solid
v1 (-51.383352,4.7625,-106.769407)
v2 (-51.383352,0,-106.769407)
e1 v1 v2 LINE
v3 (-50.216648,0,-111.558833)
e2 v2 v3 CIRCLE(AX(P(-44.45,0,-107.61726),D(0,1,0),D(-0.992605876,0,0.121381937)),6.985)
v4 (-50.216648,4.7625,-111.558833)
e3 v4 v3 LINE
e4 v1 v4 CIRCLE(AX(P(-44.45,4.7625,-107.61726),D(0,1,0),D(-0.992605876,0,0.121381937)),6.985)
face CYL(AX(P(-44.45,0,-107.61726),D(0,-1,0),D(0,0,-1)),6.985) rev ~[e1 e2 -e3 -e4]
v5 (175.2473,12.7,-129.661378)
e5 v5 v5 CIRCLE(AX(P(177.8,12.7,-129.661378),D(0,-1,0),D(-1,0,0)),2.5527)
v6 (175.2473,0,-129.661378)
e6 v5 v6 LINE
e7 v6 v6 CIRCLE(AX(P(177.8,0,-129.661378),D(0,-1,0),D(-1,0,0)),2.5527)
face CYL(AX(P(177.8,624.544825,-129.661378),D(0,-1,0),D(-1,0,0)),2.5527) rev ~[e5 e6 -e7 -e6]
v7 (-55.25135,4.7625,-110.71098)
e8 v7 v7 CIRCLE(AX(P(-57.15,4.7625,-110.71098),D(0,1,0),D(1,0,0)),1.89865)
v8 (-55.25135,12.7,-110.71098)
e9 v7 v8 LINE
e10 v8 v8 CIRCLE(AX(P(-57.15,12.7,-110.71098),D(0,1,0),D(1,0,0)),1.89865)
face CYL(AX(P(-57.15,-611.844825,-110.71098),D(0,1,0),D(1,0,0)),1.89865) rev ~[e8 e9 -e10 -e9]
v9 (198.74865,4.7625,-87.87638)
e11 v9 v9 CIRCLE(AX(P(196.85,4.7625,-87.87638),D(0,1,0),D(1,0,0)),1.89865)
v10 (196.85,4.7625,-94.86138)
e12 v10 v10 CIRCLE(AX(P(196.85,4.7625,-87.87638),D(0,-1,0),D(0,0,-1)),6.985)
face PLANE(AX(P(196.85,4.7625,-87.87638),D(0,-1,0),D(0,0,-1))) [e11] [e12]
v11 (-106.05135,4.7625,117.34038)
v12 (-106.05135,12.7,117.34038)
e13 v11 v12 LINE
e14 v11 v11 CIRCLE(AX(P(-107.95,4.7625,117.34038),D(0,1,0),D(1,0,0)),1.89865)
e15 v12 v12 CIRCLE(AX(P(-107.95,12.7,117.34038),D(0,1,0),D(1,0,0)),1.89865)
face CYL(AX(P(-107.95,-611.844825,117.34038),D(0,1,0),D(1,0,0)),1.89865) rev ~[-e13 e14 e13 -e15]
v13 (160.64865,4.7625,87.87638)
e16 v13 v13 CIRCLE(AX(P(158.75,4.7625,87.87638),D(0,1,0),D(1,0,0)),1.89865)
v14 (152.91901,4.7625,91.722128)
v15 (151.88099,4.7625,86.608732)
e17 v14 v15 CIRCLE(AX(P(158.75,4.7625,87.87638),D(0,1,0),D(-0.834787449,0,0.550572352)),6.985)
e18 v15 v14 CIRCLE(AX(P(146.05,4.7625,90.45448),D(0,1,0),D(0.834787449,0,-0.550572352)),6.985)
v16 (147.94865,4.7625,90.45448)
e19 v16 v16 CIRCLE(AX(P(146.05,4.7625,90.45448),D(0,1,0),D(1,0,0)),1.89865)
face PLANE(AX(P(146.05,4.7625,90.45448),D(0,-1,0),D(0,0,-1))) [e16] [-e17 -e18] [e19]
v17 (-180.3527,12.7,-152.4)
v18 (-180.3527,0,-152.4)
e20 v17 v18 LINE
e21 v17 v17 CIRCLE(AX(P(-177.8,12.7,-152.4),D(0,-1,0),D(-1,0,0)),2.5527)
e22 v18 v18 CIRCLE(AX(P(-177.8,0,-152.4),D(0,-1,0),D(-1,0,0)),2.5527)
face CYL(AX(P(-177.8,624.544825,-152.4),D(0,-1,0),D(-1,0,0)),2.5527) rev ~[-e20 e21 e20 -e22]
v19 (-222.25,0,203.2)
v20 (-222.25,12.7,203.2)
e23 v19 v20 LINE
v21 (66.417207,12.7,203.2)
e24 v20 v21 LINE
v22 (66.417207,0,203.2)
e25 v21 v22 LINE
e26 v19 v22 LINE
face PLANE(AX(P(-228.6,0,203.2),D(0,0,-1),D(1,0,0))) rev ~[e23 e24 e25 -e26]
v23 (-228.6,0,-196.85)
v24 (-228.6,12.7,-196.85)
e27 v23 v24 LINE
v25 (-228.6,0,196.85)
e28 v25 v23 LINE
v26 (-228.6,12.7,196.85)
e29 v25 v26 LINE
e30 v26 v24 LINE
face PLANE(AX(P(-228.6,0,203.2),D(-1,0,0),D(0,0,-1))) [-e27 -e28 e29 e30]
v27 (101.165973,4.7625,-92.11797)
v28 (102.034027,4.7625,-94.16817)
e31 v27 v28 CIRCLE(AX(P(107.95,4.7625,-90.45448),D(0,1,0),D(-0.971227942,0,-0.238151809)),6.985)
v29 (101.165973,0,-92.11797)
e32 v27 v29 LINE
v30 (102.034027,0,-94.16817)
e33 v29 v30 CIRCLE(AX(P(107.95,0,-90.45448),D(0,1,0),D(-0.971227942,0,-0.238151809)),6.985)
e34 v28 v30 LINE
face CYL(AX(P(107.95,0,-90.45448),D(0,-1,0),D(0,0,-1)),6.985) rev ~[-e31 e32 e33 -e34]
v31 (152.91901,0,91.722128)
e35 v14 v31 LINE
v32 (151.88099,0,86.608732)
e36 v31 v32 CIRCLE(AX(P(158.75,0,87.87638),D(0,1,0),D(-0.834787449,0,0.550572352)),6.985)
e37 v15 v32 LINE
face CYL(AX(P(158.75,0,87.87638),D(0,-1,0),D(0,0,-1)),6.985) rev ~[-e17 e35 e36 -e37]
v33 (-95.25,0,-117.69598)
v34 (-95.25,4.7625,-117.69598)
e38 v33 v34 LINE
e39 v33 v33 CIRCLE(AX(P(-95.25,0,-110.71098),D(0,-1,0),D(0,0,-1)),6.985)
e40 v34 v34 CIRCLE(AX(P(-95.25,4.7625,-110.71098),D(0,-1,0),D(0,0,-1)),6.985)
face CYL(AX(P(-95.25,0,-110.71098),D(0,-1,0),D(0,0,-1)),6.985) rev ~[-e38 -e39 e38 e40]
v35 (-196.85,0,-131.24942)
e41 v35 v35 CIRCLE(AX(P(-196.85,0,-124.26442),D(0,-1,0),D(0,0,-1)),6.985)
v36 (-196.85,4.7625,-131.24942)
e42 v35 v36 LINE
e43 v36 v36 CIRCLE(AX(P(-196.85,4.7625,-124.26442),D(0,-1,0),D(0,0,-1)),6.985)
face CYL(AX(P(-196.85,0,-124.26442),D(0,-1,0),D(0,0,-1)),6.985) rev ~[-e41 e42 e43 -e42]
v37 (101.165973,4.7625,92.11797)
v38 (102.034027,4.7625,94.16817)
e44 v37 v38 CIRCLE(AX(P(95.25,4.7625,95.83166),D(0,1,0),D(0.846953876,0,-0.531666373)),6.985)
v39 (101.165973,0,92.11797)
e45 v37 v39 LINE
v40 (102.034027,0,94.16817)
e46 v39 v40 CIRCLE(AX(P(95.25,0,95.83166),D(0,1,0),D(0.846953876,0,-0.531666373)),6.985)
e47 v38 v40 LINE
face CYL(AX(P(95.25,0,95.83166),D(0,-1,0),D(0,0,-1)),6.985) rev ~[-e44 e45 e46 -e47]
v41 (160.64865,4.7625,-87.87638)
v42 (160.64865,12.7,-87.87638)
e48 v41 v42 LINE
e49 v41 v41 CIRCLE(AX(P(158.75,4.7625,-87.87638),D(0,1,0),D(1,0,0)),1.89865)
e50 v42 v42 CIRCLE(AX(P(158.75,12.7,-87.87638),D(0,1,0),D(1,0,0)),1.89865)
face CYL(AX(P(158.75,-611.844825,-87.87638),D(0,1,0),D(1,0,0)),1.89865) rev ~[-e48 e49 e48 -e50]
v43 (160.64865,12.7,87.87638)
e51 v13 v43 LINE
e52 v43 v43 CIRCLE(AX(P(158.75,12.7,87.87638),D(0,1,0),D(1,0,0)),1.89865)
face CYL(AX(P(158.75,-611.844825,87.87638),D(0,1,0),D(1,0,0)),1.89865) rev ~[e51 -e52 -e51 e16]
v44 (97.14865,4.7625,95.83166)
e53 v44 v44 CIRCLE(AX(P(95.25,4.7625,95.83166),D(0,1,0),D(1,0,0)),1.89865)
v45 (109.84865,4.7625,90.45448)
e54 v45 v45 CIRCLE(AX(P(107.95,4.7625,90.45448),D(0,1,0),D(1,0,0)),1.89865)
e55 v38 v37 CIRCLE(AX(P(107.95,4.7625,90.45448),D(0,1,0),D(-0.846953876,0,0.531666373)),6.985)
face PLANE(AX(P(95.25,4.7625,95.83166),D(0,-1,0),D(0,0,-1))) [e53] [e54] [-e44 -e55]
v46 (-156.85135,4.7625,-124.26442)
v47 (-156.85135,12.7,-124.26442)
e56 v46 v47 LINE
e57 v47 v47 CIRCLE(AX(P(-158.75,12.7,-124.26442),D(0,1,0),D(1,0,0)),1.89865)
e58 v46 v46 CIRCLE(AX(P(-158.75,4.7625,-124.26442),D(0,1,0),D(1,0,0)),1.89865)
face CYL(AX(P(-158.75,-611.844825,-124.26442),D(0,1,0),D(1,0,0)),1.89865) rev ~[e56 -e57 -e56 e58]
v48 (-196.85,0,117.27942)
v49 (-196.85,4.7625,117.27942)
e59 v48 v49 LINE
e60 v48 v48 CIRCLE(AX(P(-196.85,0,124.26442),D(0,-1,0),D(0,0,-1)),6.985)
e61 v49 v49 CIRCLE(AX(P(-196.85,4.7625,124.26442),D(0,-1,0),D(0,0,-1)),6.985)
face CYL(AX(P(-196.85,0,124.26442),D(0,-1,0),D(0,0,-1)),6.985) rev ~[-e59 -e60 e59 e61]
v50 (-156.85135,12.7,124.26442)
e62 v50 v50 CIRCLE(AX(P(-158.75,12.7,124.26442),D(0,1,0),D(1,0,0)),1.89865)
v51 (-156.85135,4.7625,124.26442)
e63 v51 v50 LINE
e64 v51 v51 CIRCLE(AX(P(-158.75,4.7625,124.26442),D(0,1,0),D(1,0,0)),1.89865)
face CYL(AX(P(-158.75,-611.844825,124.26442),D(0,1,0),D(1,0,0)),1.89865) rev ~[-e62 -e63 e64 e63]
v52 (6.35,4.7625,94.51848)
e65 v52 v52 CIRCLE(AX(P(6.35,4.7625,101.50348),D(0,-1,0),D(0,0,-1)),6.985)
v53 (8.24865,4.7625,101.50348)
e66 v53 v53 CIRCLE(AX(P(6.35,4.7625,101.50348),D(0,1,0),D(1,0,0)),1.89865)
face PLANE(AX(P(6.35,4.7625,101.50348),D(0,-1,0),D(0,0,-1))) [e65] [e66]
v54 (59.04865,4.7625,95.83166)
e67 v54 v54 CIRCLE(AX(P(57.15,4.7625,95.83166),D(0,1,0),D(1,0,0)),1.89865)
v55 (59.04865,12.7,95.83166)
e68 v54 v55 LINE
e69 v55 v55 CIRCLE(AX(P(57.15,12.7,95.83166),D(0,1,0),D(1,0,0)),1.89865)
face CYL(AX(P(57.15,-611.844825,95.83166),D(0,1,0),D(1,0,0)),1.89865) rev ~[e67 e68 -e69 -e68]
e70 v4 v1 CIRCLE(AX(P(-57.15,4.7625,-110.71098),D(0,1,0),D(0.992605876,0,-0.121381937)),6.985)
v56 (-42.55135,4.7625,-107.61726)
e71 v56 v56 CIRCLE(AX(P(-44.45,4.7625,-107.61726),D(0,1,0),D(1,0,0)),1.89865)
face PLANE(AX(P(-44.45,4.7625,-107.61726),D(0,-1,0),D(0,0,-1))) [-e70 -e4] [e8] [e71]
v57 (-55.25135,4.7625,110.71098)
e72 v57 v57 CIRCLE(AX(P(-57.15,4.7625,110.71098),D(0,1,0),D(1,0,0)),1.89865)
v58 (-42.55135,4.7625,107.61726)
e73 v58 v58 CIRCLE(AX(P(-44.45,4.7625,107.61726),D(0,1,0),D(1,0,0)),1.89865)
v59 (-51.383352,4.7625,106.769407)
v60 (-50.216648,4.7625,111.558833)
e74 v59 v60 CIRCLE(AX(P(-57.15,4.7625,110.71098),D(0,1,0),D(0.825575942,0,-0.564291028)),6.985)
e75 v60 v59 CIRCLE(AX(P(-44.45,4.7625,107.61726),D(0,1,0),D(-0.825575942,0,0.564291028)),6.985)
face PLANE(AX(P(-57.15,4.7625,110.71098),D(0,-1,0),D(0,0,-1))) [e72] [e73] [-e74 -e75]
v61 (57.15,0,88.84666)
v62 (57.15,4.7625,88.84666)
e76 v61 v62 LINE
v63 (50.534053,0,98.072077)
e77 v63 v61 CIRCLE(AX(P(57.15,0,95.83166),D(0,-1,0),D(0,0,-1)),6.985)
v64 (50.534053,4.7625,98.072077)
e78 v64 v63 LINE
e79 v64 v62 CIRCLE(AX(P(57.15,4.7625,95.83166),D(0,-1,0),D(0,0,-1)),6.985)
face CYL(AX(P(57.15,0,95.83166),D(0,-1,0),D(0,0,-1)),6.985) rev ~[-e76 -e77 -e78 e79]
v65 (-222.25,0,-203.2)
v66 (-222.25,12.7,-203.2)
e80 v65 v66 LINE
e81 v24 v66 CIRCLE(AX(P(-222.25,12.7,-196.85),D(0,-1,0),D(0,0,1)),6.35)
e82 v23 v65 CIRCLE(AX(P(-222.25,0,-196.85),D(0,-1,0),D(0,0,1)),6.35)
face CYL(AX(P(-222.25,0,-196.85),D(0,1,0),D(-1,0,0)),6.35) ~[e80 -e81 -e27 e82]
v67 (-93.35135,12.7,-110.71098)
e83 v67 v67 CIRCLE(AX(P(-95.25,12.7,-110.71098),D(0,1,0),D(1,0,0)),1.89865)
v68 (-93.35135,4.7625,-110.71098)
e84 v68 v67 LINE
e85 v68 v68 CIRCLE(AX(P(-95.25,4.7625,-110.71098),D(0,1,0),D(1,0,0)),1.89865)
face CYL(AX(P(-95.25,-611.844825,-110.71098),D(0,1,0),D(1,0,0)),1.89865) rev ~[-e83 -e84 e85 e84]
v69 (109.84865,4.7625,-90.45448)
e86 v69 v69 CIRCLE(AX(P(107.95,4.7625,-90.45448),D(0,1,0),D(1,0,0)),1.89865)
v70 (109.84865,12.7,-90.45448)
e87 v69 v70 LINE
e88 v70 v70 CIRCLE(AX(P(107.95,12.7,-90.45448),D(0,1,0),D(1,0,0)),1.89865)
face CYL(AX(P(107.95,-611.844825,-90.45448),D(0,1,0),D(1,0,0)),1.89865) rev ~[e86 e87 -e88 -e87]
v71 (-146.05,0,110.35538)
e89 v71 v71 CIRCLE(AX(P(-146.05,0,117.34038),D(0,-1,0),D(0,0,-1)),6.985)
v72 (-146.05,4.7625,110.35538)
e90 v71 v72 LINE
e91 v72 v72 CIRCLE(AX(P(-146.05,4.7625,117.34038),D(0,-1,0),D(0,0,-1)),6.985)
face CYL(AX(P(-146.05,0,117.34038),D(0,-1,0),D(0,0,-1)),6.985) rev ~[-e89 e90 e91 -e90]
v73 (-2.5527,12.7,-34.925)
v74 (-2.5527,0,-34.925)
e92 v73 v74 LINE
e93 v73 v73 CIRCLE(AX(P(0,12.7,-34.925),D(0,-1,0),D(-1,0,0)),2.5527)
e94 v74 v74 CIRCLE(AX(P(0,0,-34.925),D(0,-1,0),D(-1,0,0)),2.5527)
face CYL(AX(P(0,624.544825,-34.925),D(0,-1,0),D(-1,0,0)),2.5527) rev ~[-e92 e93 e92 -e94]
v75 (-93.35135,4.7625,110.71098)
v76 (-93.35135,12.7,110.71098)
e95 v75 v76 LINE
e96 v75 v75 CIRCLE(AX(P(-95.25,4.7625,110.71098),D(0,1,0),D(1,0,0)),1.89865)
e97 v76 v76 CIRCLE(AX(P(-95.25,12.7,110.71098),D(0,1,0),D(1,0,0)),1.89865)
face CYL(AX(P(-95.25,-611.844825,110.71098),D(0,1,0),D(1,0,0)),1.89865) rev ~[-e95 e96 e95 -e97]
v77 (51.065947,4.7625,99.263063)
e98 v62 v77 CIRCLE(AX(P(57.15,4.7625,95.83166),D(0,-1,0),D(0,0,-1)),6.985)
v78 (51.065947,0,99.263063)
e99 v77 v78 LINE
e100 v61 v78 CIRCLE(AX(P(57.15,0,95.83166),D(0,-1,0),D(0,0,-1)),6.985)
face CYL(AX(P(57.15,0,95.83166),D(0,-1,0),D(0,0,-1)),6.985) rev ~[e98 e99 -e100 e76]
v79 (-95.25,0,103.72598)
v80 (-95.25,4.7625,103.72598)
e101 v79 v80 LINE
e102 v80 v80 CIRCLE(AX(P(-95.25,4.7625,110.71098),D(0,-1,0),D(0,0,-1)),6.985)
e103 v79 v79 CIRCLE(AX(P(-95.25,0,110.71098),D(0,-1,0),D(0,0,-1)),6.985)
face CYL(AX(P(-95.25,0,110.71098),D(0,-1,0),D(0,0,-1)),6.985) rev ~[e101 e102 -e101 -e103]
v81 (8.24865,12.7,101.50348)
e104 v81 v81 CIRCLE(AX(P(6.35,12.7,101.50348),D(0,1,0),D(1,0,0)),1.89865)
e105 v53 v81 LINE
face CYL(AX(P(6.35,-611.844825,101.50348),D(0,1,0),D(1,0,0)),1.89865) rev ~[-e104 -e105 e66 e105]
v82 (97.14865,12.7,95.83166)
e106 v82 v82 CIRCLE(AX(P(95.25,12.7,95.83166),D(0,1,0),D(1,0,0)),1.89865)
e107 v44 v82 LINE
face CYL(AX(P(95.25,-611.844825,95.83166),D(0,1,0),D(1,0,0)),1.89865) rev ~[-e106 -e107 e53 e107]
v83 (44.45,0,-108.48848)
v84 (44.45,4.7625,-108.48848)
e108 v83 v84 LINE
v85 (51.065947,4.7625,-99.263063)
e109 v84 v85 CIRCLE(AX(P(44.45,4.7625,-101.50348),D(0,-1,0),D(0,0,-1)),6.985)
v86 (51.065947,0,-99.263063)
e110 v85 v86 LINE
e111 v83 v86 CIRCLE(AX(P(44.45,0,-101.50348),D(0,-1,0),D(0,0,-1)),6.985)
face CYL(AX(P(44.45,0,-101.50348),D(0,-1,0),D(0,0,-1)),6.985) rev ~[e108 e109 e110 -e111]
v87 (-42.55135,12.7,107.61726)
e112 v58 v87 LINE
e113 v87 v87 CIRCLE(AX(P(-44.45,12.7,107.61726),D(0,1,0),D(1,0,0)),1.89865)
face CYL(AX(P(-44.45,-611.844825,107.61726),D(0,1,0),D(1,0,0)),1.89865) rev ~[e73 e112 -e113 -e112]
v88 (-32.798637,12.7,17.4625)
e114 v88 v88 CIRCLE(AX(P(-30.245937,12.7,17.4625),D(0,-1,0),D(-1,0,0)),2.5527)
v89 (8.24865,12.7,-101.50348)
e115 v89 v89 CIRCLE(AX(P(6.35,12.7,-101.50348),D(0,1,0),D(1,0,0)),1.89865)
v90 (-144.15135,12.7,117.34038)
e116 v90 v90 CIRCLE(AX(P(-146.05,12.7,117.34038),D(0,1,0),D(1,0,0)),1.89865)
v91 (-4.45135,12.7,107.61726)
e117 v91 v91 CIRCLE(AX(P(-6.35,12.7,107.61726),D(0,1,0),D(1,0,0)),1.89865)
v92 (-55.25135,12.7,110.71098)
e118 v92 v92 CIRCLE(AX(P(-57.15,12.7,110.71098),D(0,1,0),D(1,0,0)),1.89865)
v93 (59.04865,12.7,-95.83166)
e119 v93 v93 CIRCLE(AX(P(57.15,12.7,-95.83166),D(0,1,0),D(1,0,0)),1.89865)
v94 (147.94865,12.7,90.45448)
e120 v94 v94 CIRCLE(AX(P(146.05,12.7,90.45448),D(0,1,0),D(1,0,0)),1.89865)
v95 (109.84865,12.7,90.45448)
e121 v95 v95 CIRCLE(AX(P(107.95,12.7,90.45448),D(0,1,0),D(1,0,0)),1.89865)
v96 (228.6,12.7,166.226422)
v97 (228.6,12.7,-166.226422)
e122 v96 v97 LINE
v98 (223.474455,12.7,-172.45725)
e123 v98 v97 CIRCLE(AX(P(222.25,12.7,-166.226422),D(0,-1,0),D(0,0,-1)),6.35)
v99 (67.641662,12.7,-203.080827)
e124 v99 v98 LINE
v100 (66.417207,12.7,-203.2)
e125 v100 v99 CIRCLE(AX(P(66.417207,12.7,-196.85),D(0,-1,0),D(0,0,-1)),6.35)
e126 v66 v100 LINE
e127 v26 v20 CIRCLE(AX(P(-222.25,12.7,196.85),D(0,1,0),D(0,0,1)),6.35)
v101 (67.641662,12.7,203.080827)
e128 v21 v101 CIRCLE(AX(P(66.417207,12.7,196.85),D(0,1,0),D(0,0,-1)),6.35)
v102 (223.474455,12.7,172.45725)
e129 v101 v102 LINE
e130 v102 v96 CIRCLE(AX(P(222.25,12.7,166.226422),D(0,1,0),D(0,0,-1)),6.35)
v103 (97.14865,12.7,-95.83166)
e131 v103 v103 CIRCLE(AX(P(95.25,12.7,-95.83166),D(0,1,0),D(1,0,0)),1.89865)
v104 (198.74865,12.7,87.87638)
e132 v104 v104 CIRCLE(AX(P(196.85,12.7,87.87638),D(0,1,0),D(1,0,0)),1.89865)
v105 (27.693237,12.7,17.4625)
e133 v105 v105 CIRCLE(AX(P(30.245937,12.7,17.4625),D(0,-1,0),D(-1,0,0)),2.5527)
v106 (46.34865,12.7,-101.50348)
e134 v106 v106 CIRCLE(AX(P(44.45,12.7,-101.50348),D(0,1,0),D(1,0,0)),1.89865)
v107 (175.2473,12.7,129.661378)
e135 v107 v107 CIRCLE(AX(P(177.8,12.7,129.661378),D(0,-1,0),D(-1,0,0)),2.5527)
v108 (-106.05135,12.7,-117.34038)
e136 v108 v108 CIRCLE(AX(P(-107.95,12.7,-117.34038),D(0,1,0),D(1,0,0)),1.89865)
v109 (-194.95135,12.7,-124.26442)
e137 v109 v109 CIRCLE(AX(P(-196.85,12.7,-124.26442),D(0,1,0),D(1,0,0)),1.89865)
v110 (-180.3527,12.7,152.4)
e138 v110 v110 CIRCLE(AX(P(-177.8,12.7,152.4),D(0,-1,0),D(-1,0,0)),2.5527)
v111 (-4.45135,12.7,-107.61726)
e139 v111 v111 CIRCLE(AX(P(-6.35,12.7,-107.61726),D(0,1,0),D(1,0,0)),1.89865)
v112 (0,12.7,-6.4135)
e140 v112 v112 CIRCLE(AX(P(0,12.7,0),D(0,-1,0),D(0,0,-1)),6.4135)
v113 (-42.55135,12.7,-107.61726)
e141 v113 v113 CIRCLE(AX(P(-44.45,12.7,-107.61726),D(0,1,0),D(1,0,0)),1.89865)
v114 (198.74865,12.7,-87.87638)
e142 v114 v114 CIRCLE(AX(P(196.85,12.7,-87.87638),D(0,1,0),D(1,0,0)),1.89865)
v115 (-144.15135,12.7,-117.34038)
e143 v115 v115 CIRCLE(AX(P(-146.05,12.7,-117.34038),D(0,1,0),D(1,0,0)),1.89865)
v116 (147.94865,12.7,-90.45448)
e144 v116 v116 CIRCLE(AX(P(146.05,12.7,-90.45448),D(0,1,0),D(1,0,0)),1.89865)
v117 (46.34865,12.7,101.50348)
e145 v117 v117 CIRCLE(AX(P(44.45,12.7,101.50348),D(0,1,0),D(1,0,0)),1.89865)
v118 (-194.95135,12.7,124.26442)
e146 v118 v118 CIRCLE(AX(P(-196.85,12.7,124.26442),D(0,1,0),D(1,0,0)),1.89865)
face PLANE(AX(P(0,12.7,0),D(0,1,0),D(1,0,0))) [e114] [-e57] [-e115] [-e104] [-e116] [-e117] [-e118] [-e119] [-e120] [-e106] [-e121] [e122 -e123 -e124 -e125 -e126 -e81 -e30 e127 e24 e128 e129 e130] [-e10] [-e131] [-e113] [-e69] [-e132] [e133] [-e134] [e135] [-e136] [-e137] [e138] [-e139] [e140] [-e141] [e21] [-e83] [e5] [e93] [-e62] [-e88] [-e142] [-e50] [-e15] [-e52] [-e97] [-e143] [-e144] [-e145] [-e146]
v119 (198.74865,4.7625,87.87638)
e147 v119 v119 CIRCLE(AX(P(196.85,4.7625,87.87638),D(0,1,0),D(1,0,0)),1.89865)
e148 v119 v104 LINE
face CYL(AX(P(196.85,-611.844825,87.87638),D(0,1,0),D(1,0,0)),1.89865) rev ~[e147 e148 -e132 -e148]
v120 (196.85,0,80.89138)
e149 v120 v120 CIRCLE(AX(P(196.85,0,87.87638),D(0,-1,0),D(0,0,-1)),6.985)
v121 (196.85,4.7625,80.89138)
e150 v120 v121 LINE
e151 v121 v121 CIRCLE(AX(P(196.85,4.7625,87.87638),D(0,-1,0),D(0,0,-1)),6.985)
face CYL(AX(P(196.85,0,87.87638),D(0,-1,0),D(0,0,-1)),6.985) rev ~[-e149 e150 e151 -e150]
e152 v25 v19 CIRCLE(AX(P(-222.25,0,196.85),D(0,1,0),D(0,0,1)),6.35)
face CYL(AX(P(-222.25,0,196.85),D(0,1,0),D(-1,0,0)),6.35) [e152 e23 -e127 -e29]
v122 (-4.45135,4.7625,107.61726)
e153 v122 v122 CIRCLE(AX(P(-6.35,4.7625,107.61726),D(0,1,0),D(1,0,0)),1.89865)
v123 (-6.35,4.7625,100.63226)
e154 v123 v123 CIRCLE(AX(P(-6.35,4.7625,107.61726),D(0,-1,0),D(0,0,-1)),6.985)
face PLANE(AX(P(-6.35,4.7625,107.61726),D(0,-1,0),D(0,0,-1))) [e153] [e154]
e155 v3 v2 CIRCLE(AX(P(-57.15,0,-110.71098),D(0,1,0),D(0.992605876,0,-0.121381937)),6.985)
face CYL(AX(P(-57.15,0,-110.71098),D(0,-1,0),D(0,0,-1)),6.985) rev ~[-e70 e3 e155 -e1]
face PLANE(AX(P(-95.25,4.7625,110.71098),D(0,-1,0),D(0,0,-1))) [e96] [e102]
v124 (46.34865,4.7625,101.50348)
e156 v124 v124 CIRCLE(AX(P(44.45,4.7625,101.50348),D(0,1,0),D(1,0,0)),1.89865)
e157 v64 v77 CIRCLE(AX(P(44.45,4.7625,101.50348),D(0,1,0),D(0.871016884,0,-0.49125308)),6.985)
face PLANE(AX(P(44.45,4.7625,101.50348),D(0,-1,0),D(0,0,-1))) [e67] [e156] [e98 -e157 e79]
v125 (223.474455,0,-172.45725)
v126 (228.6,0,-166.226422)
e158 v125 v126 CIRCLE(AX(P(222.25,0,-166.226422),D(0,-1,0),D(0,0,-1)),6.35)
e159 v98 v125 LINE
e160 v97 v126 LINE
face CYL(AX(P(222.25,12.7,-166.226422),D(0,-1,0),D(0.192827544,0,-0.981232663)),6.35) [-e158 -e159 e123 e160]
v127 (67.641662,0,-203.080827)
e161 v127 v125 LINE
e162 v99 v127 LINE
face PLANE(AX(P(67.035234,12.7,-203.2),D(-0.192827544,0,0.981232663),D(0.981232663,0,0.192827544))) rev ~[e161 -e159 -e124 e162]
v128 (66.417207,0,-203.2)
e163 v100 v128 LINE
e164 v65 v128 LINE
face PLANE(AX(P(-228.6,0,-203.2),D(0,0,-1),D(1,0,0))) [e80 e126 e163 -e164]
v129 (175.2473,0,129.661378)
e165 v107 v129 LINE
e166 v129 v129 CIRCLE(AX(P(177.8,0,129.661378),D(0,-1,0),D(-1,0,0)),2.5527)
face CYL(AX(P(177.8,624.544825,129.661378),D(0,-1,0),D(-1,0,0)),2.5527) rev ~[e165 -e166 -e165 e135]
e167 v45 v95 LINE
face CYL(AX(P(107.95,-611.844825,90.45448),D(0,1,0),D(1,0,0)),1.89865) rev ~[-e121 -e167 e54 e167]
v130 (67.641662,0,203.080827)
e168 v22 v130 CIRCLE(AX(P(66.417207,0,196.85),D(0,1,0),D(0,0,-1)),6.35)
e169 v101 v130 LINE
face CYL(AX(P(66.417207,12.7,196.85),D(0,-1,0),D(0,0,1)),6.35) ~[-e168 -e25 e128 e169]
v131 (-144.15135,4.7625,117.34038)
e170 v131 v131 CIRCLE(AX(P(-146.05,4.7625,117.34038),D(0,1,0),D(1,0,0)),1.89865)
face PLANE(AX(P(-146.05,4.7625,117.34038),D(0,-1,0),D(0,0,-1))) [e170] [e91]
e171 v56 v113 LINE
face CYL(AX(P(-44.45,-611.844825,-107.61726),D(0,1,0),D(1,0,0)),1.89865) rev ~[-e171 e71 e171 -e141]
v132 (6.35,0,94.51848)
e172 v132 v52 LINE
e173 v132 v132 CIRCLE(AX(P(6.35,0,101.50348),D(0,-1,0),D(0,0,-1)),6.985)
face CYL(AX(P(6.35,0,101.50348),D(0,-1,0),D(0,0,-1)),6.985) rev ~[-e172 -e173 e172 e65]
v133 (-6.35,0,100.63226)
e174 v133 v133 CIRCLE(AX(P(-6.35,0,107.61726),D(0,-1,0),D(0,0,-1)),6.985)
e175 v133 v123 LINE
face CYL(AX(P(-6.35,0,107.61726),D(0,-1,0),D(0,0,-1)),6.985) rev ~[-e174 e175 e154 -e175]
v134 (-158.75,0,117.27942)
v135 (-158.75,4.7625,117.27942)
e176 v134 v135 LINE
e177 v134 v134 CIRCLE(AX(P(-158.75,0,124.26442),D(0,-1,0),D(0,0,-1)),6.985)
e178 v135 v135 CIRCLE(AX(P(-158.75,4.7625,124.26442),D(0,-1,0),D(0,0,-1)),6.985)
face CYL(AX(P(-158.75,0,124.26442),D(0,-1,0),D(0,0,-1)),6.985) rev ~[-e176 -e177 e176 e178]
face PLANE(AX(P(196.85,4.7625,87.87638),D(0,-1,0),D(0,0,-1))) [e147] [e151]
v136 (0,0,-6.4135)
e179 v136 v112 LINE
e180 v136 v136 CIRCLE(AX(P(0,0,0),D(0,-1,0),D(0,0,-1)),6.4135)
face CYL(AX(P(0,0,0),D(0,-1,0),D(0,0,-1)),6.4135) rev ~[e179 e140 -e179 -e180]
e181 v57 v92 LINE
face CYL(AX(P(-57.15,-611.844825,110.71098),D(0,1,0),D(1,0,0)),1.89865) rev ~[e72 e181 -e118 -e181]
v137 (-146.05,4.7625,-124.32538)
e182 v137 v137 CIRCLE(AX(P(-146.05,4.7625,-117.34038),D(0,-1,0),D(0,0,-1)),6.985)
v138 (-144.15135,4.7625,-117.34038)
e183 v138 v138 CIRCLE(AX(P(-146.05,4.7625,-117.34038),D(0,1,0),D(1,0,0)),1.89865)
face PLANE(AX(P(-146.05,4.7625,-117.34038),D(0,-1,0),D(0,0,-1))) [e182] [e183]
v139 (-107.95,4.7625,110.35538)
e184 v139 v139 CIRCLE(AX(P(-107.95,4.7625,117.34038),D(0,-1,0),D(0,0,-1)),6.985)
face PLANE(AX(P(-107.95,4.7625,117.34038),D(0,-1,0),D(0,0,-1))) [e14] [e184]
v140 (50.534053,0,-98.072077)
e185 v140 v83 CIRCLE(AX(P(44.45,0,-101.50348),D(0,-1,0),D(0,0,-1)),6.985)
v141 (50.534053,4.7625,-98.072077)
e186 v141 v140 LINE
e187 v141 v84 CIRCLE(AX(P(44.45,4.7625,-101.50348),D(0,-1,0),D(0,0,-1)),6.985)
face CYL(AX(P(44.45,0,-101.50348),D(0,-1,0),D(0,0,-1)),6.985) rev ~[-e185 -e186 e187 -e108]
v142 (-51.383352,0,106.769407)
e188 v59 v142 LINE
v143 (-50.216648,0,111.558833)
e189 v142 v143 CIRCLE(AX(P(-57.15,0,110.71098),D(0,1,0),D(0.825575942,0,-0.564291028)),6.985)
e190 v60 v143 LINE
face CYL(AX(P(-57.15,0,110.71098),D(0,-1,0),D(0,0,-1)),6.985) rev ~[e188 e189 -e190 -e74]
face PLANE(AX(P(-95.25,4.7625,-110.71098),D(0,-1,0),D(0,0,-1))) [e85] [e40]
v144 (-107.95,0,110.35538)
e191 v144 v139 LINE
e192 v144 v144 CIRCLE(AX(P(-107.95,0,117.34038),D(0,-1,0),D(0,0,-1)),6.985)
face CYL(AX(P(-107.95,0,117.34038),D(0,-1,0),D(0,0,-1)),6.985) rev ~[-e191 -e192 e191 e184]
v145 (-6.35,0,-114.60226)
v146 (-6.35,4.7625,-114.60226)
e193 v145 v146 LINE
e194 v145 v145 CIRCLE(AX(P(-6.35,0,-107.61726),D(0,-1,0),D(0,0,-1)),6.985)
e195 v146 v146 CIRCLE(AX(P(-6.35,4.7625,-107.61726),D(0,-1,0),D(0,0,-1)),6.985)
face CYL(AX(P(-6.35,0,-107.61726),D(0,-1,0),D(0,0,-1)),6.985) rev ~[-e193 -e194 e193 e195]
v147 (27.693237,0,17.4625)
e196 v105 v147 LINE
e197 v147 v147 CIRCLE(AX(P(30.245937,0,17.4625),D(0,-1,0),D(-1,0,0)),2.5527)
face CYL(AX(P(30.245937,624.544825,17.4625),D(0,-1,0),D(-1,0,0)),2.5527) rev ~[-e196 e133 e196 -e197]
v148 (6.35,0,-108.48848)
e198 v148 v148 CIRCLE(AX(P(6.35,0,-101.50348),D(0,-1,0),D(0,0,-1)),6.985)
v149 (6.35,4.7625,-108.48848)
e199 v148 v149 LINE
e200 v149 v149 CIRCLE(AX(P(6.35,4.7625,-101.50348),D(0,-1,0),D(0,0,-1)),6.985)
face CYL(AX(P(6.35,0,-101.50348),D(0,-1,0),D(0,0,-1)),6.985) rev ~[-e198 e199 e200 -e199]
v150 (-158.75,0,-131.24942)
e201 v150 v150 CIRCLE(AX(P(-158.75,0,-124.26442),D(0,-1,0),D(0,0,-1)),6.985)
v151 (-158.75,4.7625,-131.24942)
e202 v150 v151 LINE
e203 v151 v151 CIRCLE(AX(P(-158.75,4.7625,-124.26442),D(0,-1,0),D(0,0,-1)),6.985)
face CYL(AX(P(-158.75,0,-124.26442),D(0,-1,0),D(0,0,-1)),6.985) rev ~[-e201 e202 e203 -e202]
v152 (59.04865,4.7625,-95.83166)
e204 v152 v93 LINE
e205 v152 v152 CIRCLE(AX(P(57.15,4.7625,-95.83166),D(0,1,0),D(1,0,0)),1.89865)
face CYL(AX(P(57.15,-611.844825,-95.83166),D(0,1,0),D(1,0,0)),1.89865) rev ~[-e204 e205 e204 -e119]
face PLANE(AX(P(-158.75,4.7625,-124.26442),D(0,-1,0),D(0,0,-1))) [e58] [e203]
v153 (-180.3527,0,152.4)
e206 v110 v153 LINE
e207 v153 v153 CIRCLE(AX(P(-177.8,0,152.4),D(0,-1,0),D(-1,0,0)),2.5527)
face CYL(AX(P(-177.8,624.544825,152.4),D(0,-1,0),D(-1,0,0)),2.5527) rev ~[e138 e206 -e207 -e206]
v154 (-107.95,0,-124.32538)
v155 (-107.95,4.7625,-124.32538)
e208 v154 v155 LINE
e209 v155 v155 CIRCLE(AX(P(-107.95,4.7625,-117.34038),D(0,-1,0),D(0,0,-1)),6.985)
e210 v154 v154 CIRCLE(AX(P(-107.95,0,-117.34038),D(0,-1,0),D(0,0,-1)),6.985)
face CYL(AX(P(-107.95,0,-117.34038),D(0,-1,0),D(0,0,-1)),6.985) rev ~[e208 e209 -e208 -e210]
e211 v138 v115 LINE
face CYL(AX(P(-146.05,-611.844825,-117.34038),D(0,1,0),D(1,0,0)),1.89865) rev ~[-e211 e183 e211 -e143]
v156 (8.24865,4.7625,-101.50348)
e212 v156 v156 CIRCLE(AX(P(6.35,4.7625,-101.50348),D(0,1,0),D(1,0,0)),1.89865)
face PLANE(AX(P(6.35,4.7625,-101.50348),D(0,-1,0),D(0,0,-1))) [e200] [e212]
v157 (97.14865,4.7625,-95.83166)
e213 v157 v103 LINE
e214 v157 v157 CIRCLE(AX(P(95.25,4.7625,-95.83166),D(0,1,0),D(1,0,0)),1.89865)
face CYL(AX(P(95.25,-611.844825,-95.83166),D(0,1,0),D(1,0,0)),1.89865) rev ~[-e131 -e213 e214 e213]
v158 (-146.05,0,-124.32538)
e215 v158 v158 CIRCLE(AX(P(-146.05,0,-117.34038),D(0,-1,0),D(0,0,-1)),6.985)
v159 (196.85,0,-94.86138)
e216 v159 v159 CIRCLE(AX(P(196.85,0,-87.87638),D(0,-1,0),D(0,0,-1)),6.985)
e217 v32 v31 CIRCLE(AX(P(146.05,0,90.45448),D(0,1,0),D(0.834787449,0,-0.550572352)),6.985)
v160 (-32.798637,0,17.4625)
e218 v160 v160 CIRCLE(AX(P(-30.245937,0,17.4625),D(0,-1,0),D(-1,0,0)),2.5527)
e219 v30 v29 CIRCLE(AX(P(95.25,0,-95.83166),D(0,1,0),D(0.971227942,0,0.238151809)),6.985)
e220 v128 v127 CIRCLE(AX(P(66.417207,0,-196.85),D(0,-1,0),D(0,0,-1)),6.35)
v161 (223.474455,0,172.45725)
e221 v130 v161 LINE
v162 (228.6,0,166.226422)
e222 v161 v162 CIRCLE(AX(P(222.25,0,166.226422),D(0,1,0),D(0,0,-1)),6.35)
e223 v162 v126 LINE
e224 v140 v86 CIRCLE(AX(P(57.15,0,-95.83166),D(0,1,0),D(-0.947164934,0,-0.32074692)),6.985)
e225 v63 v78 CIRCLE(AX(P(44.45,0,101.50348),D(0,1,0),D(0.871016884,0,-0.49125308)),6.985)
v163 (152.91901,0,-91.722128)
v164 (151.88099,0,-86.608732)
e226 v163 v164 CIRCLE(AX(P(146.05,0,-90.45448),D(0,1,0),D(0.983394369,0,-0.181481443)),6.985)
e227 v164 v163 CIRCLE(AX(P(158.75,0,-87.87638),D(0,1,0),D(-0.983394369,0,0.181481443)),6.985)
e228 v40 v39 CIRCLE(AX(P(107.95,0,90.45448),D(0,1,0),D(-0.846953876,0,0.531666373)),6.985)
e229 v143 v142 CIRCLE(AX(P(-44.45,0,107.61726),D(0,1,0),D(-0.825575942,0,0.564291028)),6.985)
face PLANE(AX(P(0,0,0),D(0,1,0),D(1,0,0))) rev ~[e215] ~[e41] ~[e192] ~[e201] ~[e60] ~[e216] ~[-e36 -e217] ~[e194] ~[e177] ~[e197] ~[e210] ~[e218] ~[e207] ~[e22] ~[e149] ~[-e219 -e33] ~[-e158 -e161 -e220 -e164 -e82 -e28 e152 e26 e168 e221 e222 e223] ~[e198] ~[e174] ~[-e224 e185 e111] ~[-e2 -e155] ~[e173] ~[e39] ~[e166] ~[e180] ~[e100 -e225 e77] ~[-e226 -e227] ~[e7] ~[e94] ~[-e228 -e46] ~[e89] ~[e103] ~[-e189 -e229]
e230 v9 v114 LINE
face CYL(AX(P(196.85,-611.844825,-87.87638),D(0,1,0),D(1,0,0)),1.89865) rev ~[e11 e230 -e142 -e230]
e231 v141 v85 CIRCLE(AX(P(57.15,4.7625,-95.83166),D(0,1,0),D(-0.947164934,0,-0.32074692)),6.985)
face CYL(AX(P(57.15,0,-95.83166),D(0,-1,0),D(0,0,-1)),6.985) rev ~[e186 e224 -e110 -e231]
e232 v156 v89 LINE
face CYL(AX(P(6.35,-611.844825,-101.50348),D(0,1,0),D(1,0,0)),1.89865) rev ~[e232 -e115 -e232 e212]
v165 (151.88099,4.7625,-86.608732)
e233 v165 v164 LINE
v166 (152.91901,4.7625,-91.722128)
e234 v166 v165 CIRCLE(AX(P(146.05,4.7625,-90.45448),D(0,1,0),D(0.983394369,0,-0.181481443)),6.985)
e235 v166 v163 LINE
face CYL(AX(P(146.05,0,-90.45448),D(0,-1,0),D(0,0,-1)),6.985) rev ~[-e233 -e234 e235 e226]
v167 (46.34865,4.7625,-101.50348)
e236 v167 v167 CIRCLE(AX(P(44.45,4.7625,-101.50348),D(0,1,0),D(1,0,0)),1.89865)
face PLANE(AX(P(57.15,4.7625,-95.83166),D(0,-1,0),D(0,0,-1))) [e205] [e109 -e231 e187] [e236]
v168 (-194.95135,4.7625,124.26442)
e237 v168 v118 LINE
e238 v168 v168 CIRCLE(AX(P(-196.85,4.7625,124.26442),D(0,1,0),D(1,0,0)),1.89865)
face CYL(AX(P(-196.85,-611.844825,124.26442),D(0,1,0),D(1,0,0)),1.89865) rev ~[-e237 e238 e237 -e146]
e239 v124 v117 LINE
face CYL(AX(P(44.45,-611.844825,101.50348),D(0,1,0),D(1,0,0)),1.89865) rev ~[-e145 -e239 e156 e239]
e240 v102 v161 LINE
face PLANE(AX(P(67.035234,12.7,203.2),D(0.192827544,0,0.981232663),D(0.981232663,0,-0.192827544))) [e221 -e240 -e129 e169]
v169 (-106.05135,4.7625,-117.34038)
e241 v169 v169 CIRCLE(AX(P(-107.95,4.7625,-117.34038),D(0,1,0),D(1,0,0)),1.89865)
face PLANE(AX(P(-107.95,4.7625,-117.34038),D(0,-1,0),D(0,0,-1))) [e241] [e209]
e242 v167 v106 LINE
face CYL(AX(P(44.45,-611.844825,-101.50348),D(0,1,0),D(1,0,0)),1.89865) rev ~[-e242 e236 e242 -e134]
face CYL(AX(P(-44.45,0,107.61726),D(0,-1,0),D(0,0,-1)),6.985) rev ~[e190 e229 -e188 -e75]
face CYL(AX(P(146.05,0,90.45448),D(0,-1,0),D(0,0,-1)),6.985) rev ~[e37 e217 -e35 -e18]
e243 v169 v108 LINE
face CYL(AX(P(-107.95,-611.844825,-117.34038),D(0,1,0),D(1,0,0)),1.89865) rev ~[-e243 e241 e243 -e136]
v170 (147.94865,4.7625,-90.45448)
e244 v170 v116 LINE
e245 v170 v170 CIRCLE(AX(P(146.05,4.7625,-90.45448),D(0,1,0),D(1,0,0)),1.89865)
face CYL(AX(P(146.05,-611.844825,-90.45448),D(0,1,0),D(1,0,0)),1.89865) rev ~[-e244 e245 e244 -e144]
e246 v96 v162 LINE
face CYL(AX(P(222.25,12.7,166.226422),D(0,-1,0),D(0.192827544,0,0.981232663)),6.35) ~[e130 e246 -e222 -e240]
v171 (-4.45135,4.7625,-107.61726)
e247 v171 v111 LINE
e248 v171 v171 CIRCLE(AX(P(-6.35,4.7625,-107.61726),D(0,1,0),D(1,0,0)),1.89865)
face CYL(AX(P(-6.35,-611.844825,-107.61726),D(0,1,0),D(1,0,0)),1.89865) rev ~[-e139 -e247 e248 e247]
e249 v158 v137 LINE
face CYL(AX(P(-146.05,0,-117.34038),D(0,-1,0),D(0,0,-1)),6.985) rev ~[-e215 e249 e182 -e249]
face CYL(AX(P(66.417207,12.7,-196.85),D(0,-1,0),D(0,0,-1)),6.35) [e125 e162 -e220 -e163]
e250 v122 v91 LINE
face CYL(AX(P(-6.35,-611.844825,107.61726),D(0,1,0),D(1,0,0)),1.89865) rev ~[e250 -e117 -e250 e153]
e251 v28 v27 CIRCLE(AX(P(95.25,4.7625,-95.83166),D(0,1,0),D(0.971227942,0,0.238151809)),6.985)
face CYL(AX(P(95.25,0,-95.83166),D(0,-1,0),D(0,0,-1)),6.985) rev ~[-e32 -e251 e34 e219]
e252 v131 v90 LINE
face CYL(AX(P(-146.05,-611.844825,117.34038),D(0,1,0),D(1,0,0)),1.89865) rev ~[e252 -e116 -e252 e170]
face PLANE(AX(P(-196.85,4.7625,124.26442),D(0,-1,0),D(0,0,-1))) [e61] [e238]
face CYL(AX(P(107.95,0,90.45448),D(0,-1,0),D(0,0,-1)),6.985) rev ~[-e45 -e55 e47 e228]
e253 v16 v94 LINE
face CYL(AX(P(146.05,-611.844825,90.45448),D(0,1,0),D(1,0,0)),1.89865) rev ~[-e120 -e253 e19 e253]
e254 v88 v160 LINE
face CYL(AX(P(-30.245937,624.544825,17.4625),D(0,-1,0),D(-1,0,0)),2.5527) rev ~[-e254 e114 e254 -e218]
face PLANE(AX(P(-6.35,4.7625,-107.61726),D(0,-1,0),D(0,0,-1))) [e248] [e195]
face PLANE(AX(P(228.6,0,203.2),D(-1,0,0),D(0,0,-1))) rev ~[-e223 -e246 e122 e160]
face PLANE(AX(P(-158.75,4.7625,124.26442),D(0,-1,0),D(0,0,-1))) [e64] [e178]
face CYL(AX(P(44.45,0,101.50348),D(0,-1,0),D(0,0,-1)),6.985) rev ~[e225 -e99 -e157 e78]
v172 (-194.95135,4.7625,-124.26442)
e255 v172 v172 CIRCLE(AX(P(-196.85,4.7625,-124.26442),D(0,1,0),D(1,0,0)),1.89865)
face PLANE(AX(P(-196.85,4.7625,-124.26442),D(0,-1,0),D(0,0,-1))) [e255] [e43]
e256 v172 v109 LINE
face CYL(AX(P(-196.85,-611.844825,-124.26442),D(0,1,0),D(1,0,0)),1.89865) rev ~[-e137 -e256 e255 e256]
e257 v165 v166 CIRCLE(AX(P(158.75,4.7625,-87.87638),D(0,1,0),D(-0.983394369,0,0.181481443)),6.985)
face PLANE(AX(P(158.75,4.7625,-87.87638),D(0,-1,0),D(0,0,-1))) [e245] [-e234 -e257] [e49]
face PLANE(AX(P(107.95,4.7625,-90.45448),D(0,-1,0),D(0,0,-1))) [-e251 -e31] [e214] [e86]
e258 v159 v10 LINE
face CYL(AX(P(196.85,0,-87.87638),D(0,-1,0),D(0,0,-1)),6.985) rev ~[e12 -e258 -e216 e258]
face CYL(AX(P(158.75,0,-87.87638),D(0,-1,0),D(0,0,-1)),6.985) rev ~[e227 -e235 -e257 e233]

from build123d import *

# Parameters (mm, degrees)
SKETCH1_W              = 457.2
SKETCH1_H              = 406.4
BOSS_EXTRUDE1_DEPTH    = 12.7
F_6_CLEARANCE_HOLE1_D  = 3.7973
SKETCH5_R              = 6.4135
CUT_EXTRUDE2_DEPTH     = 307.120058147
CUT_EXTRUDE3_DEPTH     = 3.175
F_10_CLEARANCE_HOLE1_D = 5.1054
CUT_EXTRUDE4_DEPTH     = 307.120058147
FILLET1_R              = 6.35
F_10_CLEARANCE_HOLE2_D = 5.1054
SKETCH18_R             = 6.985
CUT_EXTRUDE6_DEPTH     = 4.7625


with BuildPart() as part:
    # Sketch1 → Boss-Extrude1 (new body)
    with BuildSketch(Plane(origin=(0, 0, 0), x_dir=(1, 0, 0), z_dir=(0, 1, 0))):
        Rectangle(SKETCH1_W, SKETCH1_H)
    extrude(amount=BOSS_EXTRUDE1_DEPTH)

    # #6 Clearance Hole1 (through all)
    with Locations(Plane(origin=(0, 0, 0), x_dir=(-1, 0, 0), z_dir=(0, -1, 0))):
        with Locations((-196.85, 87.87638), (-158.75, 87.87638), (-146.05, 90.45448), (-107.95, 90.45448), (-95.25, 95.83166), (-57.15, 95.83166), (-44.45, 101.50348), (-6.35, 101.50348), (6.35, 107.61726), (44.45, 107.61726), (57.15, 110.71098), (95.25, 110.71098), (107.95, 117.34038), (146.05, 117.34038), (158.75, 124.26442), (196.85, 124.26442), (196.85, -124.26442), (158.75, -124.26442), (146.05, -117.34038), (107.95, -117.34038), (95.25, -110.71098), (57.15, -110.71098), (44.45, -107.61726), (6.35, -107.61726), (-6.35, -101.50348), (-44.45, -101.50348), (-57.15, -95.83166), (-95.25, -95.83166), (-107.95, -90.45448), (-146.05, -90.45448), (-158.75, -87.87638), (-196.85, -87.87638)):
            Hole(F_6_CLEARANCE_HOLE1_D / 2)

    # Sketch5 → Cut-Extrude2 (cut, through all)
    with BuildSketch(Plane.XZ):
        with Locations(Location((0, 0, 0), (0, 0, 270))):
            Circle(SKETCH5_R)
    extrude(amount=-CUT_EXTRUDE2_DEPTH, mode=Mode.SUBTRACT)

    # Sketch6 → Cut-Extrude3 (cut)
    with BuildSketch(Plane.XZ):
        Polygon((-192.913, -121.99139199), (-196.85, -119.71836398), (-200.787, -121.99139199), (-200.787, -126.53744801), (-196.85, -128.81047602), (-192.913, -126.53744801), align=None)
    cut_extrude3 = extrude(amount=-CUT_EXTRUDE3_DEPTH, mode=Mode.SUBTRACT)

    # Sketch-Pattern1: Cut-Extrude3 at 31 more places
    with Locations((393.7, 0, 36.38804), (355.6, 0, 36.38804), (342.9, 0, 33.80994), (304.8, 0, 33.80994), (292.1, 0, 28.43276), (254, 0, 28.43276), (241.3, 0, 22.76094), (203.2, 0, 22.76094), (190.5, 0, 16.64716), (152.4, 0, 16.64716), (139.7, 0, 13.55344), (101.6, 0, 13.55344), (88.9, 0, 6.92404), (50.8, 0, 6.92404), (38.1, 0, 0), (0, 0, 248.52884), (38.1, 0, 248.52884), (50.8, 0, 241.6048), (88.9, 0, 241.6048), (101.6, 0, 234.9754), (139.7, 0, 234.9754), (152.4, 0, 231.88168), (190.5, 0, 231.88168), (203.2, 0, 225.7679), (241.3, 0, 225.7679), (254, 0, 220.09608), (292.1, 0, 220.09608), (304.8, 0, 214.7189), (342.9, 0, 214.7189), (355.6, 0, 212.1408), (393.7, 0, 212.1408)):
        add(cut_extrude3, mode=Mode.SUBTRACT)

    # #10 Clearance Hole1 (through all)
    with Locations(Plane(origin=(0, 12.7, 0), x_dir=(1, 0, 0), z_dir=(0, 1, 0))):
        with Locations((-30.245937227, -17.4625), (0, 34.925), (30.245937227, -17.4625)):
            Hole(F_10_CLEARANCE_HOLE1_D / 2)

    # Sketch10 → Cut-Extrude4 (cut, through all)
    with BuildSketch(Plane(origin=(0, 12.7, 0), x_dir=(1, 0, 0), z_dir=(0, 1, 0))):
        Polygon((67.035234154, -203.2), (228.6, -171.45), (228.6, -203.2), align=None)
        Polygon((228.6, 203.2), (67.035234154, 203.2), (228.6, 171.45), align=None)
    extrude(amount=-CUT_EXTRUDE4_DEPTH, mode=Mode.SUBTRACT)

    # Fillet1
    fillet1_edges = [part.edges().sort_by_distance(p)[0] for p in [
        (67.035234154, 6.35, 203.2),
        (228.6, 6.35, 171.45),
        (228.6, 6.35, -171.45),
        (67.035234154, 6.35, -203.2),
        (-228.6, 6.35, 203.2),
        (-228.6, 6.35, -203.2),
    ]]
    fillet(fillet1_edges, radius=FILLET1_R)

    # #10 Clearance Hole2 (through all)
    with Locations(Plane(origin=(0, 12.7, 0), x_dir=(1, 0, 0), z_dir=(0, 1, 0))):
        with Locations((177.8, -129.661378082), (-177.8, -152.4), (-177.8, 152.4), (177.8, 129.661378082)):
            Hole(F_10_CLEARANCE_HOLE2_D / 2)

    # Sketch18 → Cut-Extrude6 (cut)
    with BuildSketch(Plane.XZ):
        with Locations(Location((-196.85, -124.26442, 0), (0, 0, 270))):
            Circle(SKETCH18_R)
    cut_extrude6 = extrude(amount=-CUT_EXTRUDE6_DEPTH, mode=Mode.SUBTRACT)

    # Sketch-Pattern2: Cut-Extrude6 at 31 more places
    with Locations((393.7, 0, 36.38804), (355.6, 0, 36.38804), (342.9, 0, 33.80994), (304.8, 0, 33.80994), (292.1, 0, 28.43276), (254, 0, 28.43276), (241.3, 0, 22.76094), (203.2, 0, 22.76094), (190.5, 0, 16.64716), (152.4, 0, 16.64716), (139.7, 0, 13.55344), (101.6, 0, 13.55344), (88.9, 0, 6.92404), (50.8, 0, 6.92404), (38.1, 0, 0), (0, 0, 248.52884), (38.1, 0, 248.52884), (50.8, 0, 241.6048), (88.9, 0, 241.6048), (101.6, 0, 234.9754), (139.7, 0, 234.9754), (152.4, 0, 231.88168), (190.5, 0, 231.88168), (203.2, 0, 225.7679), (241.3, 0, 225.7679), (254, 0, 220.09608), (292.1, 0, 220.09608), (304.8, 0, 214.7189), (342.9, 0, 214.7189), (355.6, 0, 212.1408), (393.7, 0, 212.1408)):
        add(cut_extrude6, mode=Mode.SUBTRACT)


solid = part.part
